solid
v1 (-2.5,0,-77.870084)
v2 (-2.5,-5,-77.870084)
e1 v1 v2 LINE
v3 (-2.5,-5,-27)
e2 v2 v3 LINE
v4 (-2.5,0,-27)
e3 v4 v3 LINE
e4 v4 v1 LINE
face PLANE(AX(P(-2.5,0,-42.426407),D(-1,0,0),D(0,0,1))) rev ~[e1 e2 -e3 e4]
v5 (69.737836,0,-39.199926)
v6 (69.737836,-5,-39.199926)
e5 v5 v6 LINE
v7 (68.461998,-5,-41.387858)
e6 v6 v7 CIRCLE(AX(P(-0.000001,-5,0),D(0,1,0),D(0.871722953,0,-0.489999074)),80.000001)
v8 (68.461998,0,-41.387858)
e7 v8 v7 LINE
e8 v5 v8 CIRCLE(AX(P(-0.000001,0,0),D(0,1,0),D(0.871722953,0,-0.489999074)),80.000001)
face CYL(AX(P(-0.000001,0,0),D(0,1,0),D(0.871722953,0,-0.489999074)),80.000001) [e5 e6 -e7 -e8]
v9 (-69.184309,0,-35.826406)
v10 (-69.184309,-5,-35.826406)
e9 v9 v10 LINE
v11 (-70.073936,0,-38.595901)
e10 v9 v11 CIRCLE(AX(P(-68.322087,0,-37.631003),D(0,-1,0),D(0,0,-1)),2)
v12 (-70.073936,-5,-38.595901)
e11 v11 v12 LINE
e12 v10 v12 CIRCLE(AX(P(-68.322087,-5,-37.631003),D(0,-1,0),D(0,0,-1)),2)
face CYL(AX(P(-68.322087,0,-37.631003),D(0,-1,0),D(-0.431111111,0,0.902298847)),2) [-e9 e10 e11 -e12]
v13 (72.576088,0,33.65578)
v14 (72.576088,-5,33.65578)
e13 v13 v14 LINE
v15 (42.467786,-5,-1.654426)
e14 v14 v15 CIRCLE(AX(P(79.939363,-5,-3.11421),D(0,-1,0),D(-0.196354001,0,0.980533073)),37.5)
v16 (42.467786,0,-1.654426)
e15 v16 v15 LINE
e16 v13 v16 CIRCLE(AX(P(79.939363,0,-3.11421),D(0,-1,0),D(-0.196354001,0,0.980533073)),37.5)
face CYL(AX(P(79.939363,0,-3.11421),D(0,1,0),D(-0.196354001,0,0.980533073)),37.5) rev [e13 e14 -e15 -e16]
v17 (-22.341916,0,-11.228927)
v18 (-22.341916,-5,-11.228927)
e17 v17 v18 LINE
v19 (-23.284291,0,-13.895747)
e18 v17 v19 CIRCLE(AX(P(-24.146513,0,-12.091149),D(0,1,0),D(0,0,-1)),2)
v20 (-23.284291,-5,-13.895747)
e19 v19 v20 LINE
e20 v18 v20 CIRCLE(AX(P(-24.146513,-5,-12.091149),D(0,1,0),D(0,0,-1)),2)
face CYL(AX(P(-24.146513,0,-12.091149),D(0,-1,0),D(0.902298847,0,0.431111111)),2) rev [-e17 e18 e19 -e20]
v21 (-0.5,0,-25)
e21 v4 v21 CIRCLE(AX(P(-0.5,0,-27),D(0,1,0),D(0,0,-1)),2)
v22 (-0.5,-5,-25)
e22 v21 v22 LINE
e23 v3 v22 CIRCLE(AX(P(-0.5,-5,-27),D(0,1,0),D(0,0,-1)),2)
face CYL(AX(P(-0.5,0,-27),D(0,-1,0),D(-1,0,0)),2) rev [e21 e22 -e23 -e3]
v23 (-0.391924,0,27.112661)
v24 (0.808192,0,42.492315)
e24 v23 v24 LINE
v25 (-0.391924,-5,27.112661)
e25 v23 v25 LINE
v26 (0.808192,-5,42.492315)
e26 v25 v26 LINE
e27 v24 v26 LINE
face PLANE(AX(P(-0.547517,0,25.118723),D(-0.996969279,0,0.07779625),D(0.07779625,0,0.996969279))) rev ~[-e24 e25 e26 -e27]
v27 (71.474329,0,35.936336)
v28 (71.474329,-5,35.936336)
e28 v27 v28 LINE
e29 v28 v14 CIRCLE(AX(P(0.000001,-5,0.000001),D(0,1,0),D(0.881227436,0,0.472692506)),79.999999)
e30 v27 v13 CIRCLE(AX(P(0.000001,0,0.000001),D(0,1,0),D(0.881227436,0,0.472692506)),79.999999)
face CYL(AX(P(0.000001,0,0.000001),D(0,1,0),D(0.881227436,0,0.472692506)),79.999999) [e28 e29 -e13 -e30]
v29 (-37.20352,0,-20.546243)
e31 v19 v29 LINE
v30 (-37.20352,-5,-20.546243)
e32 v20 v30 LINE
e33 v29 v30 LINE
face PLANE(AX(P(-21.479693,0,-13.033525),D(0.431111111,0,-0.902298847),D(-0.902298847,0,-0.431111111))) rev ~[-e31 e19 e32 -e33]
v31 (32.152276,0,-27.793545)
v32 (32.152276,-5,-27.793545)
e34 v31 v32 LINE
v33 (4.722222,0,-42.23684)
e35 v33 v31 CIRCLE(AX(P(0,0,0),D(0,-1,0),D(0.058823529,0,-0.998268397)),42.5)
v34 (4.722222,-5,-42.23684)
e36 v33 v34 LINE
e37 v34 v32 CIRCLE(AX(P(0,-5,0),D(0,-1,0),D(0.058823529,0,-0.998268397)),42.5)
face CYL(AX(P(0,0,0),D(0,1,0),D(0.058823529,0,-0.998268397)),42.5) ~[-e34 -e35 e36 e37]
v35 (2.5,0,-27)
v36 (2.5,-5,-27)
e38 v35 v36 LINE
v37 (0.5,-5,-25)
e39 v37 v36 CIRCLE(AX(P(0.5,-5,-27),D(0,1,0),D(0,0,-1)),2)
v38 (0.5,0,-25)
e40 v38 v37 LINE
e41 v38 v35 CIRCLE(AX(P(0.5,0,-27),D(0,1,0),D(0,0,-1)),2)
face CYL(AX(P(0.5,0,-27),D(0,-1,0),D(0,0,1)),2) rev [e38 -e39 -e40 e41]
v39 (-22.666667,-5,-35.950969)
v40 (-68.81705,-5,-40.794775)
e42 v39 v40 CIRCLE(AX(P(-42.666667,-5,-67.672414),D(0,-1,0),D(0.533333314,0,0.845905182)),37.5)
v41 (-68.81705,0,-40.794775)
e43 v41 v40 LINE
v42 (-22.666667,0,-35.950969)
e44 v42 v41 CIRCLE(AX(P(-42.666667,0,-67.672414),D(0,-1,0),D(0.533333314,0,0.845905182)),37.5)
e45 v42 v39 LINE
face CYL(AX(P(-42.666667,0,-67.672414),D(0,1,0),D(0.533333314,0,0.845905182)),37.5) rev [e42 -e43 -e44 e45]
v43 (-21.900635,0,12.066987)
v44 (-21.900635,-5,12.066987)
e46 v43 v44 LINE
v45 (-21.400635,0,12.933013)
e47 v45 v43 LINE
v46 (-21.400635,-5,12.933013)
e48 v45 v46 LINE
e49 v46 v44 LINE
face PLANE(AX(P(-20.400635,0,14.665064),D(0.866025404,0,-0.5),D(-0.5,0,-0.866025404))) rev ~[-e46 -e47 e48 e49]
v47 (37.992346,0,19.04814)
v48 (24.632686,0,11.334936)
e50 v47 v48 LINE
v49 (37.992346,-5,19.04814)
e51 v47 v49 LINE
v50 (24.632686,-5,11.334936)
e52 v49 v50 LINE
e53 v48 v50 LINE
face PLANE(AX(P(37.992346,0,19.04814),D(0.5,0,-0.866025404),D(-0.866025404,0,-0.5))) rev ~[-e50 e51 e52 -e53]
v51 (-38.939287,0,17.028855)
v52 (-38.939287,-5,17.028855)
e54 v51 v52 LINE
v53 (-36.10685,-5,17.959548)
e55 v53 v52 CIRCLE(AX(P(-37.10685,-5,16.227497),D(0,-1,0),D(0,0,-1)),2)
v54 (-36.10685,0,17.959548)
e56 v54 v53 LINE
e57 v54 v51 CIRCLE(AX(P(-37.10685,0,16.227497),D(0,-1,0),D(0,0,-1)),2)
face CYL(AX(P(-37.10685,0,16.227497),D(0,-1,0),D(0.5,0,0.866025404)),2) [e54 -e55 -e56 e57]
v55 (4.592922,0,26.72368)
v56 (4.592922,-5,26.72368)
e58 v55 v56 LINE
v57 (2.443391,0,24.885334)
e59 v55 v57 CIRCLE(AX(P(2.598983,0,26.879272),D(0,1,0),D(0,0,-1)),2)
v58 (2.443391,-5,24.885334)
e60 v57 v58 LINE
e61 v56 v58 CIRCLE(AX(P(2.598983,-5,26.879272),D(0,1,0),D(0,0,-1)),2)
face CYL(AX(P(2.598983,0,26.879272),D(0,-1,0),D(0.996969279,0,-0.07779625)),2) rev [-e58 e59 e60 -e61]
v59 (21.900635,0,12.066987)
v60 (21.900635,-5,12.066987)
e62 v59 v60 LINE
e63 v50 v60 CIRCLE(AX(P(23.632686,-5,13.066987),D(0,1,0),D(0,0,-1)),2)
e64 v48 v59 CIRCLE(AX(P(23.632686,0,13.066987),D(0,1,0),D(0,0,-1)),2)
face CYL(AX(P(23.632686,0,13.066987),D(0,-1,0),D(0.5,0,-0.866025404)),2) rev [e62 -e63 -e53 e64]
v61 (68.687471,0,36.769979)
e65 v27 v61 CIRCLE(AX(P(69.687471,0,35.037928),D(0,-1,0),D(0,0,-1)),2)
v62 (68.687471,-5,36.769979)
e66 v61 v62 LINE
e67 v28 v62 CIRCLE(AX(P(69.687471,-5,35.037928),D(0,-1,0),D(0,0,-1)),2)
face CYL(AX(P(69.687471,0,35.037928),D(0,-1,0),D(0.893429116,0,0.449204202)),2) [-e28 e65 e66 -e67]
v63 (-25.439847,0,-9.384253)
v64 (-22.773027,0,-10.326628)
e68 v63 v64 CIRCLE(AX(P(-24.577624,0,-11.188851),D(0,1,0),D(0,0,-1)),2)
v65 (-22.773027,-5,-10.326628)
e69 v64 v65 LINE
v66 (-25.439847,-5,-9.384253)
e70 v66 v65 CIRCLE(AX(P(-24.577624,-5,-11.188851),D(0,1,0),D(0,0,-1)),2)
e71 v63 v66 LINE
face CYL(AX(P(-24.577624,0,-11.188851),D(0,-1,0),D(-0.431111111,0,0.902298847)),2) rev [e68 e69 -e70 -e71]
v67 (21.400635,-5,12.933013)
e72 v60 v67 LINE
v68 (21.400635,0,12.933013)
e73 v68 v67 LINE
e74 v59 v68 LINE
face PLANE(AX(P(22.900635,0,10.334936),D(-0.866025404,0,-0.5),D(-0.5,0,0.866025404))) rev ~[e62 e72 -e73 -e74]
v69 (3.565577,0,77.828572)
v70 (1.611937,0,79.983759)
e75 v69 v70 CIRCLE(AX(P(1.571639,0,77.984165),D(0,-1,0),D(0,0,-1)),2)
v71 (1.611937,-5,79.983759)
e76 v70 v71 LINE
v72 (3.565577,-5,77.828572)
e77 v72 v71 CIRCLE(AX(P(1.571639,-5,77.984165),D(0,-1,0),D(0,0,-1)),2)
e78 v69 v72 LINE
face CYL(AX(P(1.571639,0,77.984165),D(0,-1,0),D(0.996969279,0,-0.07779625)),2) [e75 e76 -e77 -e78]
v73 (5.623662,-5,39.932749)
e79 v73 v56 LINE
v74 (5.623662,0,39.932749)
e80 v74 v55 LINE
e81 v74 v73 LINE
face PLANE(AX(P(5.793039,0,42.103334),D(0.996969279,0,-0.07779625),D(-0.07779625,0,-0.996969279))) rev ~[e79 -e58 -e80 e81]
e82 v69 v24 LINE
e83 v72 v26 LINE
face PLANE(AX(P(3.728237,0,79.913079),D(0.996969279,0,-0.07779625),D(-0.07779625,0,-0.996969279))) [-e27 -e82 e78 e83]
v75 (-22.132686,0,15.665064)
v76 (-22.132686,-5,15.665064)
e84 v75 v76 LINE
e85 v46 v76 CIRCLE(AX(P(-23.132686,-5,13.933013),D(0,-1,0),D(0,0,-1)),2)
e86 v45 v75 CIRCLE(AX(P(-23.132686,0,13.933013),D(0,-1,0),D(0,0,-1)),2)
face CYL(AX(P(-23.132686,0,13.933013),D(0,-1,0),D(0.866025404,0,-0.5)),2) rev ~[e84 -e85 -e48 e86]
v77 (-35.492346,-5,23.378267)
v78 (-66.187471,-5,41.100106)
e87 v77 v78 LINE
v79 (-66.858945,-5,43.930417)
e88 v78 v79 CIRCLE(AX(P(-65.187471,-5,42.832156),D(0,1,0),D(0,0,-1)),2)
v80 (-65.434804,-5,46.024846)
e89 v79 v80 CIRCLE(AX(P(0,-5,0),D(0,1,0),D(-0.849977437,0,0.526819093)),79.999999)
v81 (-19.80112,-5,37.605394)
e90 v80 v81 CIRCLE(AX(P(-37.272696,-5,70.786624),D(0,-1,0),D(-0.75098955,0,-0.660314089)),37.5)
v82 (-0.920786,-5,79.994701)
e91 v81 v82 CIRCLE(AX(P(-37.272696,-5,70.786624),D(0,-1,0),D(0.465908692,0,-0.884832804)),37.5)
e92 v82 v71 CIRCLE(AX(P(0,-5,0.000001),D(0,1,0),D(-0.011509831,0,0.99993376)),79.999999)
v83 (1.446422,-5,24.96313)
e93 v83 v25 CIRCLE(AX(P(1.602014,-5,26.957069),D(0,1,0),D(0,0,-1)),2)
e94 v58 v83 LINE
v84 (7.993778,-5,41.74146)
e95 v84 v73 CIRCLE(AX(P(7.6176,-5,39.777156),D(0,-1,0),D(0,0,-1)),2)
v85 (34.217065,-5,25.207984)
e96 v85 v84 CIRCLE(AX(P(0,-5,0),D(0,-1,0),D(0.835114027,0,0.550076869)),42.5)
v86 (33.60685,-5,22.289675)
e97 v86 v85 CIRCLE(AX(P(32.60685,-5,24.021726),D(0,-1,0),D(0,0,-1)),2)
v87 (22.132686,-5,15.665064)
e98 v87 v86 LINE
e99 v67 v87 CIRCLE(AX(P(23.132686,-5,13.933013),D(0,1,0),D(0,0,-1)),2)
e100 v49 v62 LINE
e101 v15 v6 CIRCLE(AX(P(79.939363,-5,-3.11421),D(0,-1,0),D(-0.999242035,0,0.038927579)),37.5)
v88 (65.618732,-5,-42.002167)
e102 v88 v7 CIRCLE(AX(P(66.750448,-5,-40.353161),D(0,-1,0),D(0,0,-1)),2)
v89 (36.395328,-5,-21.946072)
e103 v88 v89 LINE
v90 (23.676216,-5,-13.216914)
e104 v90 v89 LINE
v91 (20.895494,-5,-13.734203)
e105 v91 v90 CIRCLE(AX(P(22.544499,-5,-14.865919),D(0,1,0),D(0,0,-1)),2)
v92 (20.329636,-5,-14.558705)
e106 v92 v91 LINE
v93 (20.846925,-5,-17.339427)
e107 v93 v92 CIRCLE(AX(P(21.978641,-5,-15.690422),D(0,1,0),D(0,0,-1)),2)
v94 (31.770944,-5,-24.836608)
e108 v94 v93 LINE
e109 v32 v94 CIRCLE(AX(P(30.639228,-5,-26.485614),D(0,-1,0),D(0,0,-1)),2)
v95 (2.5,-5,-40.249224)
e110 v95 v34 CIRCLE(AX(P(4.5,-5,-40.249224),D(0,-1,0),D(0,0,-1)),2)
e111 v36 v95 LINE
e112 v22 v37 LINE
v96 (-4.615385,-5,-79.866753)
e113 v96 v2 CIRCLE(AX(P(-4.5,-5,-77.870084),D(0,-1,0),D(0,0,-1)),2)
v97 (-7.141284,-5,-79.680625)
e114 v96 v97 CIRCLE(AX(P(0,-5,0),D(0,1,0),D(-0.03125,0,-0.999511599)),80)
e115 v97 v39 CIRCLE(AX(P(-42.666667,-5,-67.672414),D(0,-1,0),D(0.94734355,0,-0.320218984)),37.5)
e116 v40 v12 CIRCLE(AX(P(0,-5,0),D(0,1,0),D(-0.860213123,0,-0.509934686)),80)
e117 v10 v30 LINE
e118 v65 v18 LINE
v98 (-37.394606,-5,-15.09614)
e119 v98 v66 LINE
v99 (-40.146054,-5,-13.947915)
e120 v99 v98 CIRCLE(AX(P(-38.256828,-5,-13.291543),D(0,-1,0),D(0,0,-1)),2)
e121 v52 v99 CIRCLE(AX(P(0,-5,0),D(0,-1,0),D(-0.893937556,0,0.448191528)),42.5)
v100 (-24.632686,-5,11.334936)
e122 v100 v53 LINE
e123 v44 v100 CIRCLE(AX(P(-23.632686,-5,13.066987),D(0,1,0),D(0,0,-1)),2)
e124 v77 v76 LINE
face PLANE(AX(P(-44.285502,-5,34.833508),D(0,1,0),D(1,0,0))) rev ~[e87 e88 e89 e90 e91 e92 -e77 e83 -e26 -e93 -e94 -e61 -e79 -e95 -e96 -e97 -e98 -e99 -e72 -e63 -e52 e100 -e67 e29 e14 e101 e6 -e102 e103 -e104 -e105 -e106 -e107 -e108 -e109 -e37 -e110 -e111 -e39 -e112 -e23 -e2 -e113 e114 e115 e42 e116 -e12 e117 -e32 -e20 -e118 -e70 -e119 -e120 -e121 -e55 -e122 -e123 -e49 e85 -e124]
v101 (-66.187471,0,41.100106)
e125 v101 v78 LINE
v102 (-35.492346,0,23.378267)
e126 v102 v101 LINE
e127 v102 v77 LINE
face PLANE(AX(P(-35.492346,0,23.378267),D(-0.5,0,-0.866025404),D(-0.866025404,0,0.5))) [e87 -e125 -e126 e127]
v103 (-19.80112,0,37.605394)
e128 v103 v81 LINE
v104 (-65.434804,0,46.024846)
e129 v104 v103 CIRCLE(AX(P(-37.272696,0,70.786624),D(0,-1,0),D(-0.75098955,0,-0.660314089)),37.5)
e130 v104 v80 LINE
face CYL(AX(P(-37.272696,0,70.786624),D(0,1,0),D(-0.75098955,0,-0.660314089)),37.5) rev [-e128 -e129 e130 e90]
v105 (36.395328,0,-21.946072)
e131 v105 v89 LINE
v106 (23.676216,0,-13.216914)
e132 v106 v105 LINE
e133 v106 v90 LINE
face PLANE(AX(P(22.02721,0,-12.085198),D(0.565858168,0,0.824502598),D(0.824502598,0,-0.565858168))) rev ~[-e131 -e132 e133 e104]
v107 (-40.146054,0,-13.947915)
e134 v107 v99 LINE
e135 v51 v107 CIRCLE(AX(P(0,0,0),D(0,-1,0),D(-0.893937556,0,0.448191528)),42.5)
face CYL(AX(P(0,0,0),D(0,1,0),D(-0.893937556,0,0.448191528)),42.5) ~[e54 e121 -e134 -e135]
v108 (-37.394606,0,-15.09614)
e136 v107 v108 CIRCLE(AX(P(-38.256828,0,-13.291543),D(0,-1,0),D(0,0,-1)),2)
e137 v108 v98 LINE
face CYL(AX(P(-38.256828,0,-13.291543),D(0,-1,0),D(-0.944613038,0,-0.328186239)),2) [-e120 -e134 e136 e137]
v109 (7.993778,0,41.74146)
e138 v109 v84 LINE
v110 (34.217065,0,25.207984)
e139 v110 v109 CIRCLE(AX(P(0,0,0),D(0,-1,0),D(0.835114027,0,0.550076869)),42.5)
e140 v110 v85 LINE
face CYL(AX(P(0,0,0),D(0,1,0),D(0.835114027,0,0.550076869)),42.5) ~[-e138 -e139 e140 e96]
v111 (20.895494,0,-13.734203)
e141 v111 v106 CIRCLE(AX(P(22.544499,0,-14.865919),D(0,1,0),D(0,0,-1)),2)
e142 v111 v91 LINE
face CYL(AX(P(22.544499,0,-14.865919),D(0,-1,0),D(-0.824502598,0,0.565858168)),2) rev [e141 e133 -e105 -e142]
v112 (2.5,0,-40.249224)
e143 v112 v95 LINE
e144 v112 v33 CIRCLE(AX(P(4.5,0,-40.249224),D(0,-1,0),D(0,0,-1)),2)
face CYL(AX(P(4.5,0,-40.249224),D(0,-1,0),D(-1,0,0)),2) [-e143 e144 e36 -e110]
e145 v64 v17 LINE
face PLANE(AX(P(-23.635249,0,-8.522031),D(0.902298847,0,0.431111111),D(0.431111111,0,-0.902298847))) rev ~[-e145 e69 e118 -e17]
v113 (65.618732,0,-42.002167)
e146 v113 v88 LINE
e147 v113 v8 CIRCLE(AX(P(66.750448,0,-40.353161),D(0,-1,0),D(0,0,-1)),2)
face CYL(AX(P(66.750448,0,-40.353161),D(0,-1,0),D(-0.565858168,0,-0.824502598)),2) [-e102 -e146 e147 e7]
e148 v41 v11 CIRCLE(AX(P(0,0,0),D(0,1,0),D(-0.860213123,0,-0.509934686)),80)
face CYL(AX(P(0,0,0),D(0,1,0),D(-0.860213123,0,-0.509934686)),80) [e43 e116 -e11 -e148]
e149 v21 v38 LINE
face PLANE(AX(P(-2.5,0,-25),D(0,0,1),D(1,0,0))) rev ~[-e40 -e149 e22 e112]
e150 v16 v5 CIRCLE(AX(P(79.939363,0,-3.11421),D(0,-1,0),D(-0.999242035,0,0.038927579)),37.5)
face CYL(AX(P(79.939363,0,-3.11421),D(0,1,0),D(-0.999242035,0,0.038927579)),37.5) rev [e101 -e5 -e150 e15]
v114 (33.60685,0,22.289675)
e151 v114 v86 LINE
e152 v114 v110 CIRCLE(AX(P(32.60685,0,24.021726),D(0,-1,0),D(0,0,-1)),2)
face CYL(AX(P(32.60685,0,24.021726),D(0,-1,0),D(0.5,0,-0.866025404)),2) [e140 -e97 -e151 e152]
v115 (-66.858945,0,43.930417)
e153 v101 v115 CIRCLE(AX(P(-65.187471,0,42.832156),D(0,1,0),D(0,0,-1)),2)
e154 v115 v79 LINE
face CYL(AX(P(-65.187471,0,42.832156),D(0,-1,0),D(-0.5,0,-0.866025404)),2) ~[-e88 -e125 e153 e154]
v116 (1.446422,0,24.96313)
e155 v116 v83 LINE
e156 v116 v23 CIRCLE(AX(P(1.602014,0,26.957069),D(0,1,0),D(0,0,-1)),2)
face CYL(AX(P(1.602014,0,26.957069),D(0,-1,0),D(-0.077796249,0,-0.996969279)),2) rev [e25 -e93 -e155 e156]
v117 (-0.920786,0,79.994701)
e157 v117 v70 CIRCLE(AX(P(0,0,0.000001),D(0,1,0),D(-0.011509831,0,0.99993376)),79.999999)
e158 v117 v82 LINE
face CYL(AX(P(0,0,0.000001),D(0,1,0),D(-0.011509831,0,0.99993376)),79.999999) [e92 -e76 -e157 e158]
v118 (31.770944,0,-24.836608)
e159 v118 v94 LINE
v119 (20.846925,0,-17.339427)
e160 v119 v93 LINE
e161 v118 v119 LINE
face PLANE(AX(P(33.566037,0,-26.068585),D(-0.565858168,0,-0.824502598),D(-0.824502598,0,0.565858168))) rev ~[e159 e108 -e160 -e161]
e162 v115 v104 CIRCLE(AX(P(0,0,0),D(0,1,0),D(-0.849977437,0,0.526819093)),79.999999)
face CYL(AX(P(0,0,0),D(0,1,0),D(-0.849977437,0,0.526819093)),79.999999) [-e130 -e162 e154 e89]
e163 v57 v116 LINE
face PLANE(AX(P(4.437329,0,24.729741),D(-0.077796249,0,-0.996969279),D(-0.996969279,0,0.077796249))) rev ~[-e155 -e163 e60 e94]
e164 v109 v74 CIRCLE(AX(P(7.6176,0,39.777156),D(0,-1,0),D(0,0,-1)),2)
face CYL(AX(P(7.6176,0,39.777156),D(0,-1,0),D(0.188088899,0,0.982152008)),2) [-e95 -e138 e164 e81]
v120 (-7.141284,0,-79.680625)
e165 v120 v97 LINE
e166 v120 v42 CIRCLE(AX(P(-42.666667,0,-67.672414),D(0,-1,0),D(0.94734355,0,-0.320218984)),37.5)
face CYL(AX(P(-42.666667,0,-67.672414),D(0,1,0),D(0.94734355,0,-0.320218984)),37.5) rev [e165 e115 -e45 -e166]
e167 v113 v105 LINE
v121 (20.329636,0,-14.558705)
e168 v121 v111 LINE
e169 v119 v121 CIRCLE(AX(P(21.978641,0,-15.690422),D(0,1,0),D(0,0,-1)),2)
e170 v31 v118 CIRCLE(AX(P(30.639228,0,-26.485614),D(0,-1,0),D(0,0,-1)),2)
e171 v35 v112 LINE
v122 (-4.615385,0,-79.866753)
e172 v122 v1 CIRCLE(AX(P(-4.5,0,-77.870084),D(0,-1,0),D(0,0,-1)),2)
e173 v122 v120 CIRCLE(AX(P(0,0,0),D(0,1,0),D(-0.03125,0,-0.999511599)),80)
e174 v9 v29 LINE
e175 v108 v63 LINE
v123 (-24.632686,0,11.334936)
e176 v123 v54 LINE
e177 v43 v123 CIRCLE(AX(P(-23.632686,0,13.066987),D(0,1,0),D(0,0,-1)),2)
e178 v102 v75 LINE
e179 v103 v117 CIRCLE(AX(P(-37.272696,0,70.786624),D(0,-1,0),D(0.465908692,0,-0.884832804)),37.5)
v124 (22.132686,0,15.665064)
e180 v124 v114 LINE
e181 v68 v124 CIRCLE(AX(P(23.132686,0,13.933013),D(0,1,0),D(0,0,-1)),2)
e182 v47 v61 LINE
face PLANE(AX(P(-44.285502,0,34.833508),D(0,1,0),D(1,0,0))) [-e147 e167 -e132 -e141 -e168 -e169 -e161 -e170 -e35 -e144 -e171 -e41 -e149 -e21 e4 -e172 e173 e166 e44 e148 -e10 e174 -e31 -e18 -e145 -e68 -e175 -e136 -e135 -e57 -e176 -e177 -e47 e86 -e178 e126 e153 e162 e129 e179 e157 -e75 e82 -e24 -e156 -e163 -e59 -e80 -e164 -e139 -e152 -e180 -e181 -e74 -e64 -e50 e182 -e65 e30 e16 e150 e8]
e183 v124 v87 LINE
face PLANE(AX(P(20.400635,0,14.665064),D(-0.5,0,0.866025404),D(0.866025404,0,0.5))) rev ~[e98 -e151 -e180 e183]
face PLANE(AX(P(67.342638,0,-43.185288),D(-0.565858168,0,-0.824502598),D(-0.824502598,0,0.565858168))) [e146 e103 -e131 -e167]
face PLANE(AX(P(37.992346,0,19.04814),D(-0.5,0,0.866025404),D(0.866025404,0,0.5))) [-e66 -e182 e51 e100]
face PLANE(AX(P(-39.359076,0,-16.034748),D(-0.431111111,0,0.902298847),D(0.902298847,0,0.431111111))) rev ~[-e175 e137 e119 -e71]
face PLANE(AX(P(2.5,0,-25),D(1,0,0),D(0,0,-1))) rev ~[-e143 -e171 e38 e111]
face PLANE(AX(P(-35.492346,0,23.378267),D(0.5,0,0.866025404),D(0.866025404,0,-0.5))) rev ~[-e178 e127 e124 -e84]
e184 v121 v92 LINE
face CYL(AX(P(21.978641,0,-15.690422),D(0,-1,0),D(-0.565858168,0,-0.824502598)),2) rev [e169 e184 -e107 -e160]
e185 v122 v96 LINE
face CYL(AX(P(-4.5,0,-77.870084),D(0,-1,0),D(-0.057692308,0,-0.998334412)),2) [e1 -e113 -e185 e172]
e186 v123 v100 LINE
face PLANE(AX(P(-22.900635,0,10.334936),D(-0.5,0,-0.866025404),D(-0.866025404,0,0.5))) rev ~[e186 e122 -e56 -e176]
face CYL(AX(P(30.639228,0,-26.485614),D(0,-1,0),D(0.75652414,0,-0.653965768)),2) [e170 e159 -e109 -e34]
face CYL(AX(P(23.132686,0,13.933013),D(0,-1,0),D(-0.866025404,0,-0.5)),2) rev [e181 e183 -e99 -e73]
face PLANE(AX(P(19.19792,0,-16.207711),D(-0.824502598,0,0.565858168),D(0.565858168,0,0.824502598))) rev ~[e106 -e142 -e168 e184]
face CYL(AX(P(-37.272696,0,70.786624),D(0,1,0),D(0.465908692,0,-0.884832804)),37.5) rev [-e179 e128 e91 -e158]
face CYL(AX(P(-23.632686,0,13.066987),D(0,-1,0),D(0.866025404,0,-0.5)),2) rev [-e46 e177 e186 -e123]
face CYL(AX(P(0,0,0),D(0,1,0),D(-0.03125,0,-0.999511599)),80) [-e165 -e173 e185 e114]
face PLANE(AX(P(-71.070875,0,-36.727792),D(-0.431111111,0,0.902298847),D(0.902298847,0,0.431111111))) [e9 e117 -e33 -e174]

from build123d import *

# Parameters (mm, degrees)
EXTRUDE_1_DEPTH = 5
EXTRUDE_2_DEPTH = 5
FILLET_1_R      = 2


with BuildPart() as part:
    # 草圖1 → 填料-伸長1 (new body)
    with BuildSketch(Plane(origin=(0, 0, 0), x_dir=(1, 0, 0), z_dir=(0, 1, 0))):
        with BuildLine():
            Line((37.992346142, -19.048139926), (22.900635095, -10.334936491))
            Line((22.900635095, -10.334936491), (20.400635095, -14.665063509))
            Line((20.400635095, -14.665063509), (35.492346142, -23.378266945))
            ThreePointArc((35.492346142, -23.378266945), (22.666666667, -35.950969698), (5.793038536, -42.103333651))
            Line((5.793038536, -42.103333651), (4.437329437, -24.729741355))
            Line((4.437329437, -24.729741355), (-0.547516958, -25.118722602))
            Line((-0.547516958, -25.118722602), (0.80819214, -42.492314899))
            ThreePointArc((0.80819214, -42.492314899), (-19.801119716, -37.605394001), (-35.492346142, -23.378266945))
            Line((-35.492346142, -23.378266945), (-20.400635095, -14.665063509))
            Line((-20.400635095, -14.665063509), (-22.900635095, -10.334936491))
            Line((-22.900635095, -10.334936491), (-37.992346142, -19.048139926))
            ThreePointArc((-37.992346142, -19.048139926), (-42.467786382, -1.654424303), (-39.359075794, 16.034748288))
            Line((-39.359075794, 16.034748288), (-23.635248961, 8.522030659))
            Line((-23.635248961, 8.522030659), (-21.479693405, 13.033524896))
            Line((-21.479693405, 13.033524896), (-37.203520238, 20.546242525))
            ThreePointArc((-37.203520238, 20.546242525), (-22.666666667, 35.950969698), (-2.5, 42.426406871))
            Line((-2.5, 42.426406871), (-2.5, 25))
            Line((-2.5, 25), (2.5, 25))
            Line((2.5, 25), (2.5, 42.426406871))
            ThreePointArc((2.5, 42.426406871), (19.801119716, 37.605394001), (33.566037258, 26.068585363))
            Line((33.566037258, 26.068585363), (19.197919523, 16.207710695))
            Line((19.197919523, 16.207710695), (22.027210363, 12.085197706))
            Line((22.027210363, 12.085197706), (36.395328098, 21.946072374))
            ThreePointArc((36.395328098, 21.946072374), (42.467786382, 1.654424303), (37.992346142, -19.048139926))
        make_face()
    extrude(amount=-EXTRUDE_1_DEPTH)

    # 草圖2 → 填料-伸長2 (add)
    with BuildSketch(Plane(origin=(0, 0, 0), x_dir=(1, 0, 0), z_dir=(0, 1, 0))):
        with BuildLine():
            ThreePointArc((-19.801119989, -37.605393858), (-28.547235142, -31.485002236), (-35.492346142, -23.378266945))
            Line((-35.492346142, -23.378266945), (-67.998194922, -42.145527489))
            ThreePointArc((-67.998194922, -42.145527489), (-66.744689536, -44.103814107), (-65.434804053, -46.024845666))
            ThreePointArc((-65.434804053, -46.024845666), (-44.076640505, -33.90903815), (-19.801119989, -37.605393858))
        make_face()
        with BuildLine():
            ThreePointArc((0.80819214, -42.492314899), (-9.805780254, -41.353315147), (-19.801119989, -37.605393858))
            ThreePointArc((-19.801119989, -37.605393858), (-3.016963118, -55.529010522), (-0.920786465, -79.994700776))
            ThreePointArc((-0.920786465, -79.994700776), (1.404318446, -79.987673361), (3.728237111, -79.91307933))
            Line((3.728237111, -79.91307933), (0.80819214, -42.492314899))
        make_face()
        with BuildLine():
            ThreePointArc((42.467786306, 1.654426254), (41.540429584, -8.980128618), (37.992346142, -19.048139926))
            Line((37.992346142, -19.048139926), (70.498194922, -37.81540047))
            ThreePointArc((70.498194922, -37.81540047), (71.567368188, -35.750689653), (72.576087578, -33.655779768))
            ThreePointArc((72.576087578, -33.655779768), (51.404407975, -21.216970456), (42.467786306, 1.654426254))
        make_face()
        with BuildLine():
            ThreePointArc((36.395328098, 21.946072374), (40.71591125, 12.184603853), (42.467786306, 1.654426254))
            ThreePointArc((42.467786306, 1.654426254), (49.598015982, 25.151739473), (69.737836273, 39.199925918))
            ThreePointArc((69.737836273, 39.199925918), (68.569197897, 41.210012129), (67.342638239, 43.185287714))
            Line((67.342638239, 43.185287714), (36.395328098, 21.946072374))
        make_face()
        with BuildLine():
            ThreePointArc((-22.666667398, 35.950969237), (-12.993194762, 40.465131779), (-2.5, 42.426406871))
            Line((-2.5, 42.426406871), (-2.5, 79.960927959))
            ThreePointArc((-2.5, 79.960927959), (-4.822678652, 79.854503759), (-7.141283526, 79.680625434))
            ThreePointArc((-7.141283526, 79.680625434), (-7.3277684, 55.126008913), (-22.666667398, 35.950969237))
        make_face()
        with BuildLine():
            ThreePointArc((-37.203520238, 20.546242525), (-30.910131724, 29.16871195), (-22.666667398, 35.950969237))
            ThreePointArc((-22.666667398, 35.950969237), (-46.581052784, 30.377272025), (-68.817049808, 40.794774859))
            ThreePointArc((-68.817049808, 40.794774859), (-69.973516343, 38.777661232), (-71.07087535, 36.727791616))
            Line((-71.07087535, 36.727791616), (-37.203520238, 20.546242525))
        make_face()
    extrude(amount=-EXTRUDE_2_DEPTH)

    # 圓角1
    fillet_1_edges = [part.edges().sort_by_distance(p)[0] for p in [
        (67.342638239, -2.5, -43.185287714),
        (-2.5, -2.5, -79.960927959),
        (-71.07087535, -2.5, -36.727791616),
        (4.437329437, -2.5, 24.729741355),
        (-0.547516958, -2.5, 25.118722602),
        (-20.400635095, -2.5, 14.665063509),
        (-22.900635095, -2.5, 10.334936491),
        (-37.992346142, -2.5, 19.048139926),
        (-39.359075794, -2.5, -16.034748288),
        (-23.635248961, -2.5, -8.522030659),
        (-21.479693405, -2.5, -13.033524896),
        (-2.5, -2.5, -25),
        (2.5, -2.5, -25),
        (2.5, -2.5, -42.426406871),
        (33.566037258, -2.5, -26.068585363),
        (19.197919523, -2.5, -16.207710695),
        (22.027210363, -2.5, -12.085197706),
        (22.900635095, -2.5, 10.334936491),
        (20.400635095, -2.5, 14.665063509),
        (35.492346142, -2.5, 23.378266945),
        (5.793038536, -2.5, 42.103333651),
        (-67.998194922, -2.5, 42.145527489),
        (3.728237111, -2.5, 79.91307933),
        (70.498194922, -2.5, 37.81540047),
    ]]
    fillet(fillet_1_edges, radius=FILLET_1_R)


solid = part.part
